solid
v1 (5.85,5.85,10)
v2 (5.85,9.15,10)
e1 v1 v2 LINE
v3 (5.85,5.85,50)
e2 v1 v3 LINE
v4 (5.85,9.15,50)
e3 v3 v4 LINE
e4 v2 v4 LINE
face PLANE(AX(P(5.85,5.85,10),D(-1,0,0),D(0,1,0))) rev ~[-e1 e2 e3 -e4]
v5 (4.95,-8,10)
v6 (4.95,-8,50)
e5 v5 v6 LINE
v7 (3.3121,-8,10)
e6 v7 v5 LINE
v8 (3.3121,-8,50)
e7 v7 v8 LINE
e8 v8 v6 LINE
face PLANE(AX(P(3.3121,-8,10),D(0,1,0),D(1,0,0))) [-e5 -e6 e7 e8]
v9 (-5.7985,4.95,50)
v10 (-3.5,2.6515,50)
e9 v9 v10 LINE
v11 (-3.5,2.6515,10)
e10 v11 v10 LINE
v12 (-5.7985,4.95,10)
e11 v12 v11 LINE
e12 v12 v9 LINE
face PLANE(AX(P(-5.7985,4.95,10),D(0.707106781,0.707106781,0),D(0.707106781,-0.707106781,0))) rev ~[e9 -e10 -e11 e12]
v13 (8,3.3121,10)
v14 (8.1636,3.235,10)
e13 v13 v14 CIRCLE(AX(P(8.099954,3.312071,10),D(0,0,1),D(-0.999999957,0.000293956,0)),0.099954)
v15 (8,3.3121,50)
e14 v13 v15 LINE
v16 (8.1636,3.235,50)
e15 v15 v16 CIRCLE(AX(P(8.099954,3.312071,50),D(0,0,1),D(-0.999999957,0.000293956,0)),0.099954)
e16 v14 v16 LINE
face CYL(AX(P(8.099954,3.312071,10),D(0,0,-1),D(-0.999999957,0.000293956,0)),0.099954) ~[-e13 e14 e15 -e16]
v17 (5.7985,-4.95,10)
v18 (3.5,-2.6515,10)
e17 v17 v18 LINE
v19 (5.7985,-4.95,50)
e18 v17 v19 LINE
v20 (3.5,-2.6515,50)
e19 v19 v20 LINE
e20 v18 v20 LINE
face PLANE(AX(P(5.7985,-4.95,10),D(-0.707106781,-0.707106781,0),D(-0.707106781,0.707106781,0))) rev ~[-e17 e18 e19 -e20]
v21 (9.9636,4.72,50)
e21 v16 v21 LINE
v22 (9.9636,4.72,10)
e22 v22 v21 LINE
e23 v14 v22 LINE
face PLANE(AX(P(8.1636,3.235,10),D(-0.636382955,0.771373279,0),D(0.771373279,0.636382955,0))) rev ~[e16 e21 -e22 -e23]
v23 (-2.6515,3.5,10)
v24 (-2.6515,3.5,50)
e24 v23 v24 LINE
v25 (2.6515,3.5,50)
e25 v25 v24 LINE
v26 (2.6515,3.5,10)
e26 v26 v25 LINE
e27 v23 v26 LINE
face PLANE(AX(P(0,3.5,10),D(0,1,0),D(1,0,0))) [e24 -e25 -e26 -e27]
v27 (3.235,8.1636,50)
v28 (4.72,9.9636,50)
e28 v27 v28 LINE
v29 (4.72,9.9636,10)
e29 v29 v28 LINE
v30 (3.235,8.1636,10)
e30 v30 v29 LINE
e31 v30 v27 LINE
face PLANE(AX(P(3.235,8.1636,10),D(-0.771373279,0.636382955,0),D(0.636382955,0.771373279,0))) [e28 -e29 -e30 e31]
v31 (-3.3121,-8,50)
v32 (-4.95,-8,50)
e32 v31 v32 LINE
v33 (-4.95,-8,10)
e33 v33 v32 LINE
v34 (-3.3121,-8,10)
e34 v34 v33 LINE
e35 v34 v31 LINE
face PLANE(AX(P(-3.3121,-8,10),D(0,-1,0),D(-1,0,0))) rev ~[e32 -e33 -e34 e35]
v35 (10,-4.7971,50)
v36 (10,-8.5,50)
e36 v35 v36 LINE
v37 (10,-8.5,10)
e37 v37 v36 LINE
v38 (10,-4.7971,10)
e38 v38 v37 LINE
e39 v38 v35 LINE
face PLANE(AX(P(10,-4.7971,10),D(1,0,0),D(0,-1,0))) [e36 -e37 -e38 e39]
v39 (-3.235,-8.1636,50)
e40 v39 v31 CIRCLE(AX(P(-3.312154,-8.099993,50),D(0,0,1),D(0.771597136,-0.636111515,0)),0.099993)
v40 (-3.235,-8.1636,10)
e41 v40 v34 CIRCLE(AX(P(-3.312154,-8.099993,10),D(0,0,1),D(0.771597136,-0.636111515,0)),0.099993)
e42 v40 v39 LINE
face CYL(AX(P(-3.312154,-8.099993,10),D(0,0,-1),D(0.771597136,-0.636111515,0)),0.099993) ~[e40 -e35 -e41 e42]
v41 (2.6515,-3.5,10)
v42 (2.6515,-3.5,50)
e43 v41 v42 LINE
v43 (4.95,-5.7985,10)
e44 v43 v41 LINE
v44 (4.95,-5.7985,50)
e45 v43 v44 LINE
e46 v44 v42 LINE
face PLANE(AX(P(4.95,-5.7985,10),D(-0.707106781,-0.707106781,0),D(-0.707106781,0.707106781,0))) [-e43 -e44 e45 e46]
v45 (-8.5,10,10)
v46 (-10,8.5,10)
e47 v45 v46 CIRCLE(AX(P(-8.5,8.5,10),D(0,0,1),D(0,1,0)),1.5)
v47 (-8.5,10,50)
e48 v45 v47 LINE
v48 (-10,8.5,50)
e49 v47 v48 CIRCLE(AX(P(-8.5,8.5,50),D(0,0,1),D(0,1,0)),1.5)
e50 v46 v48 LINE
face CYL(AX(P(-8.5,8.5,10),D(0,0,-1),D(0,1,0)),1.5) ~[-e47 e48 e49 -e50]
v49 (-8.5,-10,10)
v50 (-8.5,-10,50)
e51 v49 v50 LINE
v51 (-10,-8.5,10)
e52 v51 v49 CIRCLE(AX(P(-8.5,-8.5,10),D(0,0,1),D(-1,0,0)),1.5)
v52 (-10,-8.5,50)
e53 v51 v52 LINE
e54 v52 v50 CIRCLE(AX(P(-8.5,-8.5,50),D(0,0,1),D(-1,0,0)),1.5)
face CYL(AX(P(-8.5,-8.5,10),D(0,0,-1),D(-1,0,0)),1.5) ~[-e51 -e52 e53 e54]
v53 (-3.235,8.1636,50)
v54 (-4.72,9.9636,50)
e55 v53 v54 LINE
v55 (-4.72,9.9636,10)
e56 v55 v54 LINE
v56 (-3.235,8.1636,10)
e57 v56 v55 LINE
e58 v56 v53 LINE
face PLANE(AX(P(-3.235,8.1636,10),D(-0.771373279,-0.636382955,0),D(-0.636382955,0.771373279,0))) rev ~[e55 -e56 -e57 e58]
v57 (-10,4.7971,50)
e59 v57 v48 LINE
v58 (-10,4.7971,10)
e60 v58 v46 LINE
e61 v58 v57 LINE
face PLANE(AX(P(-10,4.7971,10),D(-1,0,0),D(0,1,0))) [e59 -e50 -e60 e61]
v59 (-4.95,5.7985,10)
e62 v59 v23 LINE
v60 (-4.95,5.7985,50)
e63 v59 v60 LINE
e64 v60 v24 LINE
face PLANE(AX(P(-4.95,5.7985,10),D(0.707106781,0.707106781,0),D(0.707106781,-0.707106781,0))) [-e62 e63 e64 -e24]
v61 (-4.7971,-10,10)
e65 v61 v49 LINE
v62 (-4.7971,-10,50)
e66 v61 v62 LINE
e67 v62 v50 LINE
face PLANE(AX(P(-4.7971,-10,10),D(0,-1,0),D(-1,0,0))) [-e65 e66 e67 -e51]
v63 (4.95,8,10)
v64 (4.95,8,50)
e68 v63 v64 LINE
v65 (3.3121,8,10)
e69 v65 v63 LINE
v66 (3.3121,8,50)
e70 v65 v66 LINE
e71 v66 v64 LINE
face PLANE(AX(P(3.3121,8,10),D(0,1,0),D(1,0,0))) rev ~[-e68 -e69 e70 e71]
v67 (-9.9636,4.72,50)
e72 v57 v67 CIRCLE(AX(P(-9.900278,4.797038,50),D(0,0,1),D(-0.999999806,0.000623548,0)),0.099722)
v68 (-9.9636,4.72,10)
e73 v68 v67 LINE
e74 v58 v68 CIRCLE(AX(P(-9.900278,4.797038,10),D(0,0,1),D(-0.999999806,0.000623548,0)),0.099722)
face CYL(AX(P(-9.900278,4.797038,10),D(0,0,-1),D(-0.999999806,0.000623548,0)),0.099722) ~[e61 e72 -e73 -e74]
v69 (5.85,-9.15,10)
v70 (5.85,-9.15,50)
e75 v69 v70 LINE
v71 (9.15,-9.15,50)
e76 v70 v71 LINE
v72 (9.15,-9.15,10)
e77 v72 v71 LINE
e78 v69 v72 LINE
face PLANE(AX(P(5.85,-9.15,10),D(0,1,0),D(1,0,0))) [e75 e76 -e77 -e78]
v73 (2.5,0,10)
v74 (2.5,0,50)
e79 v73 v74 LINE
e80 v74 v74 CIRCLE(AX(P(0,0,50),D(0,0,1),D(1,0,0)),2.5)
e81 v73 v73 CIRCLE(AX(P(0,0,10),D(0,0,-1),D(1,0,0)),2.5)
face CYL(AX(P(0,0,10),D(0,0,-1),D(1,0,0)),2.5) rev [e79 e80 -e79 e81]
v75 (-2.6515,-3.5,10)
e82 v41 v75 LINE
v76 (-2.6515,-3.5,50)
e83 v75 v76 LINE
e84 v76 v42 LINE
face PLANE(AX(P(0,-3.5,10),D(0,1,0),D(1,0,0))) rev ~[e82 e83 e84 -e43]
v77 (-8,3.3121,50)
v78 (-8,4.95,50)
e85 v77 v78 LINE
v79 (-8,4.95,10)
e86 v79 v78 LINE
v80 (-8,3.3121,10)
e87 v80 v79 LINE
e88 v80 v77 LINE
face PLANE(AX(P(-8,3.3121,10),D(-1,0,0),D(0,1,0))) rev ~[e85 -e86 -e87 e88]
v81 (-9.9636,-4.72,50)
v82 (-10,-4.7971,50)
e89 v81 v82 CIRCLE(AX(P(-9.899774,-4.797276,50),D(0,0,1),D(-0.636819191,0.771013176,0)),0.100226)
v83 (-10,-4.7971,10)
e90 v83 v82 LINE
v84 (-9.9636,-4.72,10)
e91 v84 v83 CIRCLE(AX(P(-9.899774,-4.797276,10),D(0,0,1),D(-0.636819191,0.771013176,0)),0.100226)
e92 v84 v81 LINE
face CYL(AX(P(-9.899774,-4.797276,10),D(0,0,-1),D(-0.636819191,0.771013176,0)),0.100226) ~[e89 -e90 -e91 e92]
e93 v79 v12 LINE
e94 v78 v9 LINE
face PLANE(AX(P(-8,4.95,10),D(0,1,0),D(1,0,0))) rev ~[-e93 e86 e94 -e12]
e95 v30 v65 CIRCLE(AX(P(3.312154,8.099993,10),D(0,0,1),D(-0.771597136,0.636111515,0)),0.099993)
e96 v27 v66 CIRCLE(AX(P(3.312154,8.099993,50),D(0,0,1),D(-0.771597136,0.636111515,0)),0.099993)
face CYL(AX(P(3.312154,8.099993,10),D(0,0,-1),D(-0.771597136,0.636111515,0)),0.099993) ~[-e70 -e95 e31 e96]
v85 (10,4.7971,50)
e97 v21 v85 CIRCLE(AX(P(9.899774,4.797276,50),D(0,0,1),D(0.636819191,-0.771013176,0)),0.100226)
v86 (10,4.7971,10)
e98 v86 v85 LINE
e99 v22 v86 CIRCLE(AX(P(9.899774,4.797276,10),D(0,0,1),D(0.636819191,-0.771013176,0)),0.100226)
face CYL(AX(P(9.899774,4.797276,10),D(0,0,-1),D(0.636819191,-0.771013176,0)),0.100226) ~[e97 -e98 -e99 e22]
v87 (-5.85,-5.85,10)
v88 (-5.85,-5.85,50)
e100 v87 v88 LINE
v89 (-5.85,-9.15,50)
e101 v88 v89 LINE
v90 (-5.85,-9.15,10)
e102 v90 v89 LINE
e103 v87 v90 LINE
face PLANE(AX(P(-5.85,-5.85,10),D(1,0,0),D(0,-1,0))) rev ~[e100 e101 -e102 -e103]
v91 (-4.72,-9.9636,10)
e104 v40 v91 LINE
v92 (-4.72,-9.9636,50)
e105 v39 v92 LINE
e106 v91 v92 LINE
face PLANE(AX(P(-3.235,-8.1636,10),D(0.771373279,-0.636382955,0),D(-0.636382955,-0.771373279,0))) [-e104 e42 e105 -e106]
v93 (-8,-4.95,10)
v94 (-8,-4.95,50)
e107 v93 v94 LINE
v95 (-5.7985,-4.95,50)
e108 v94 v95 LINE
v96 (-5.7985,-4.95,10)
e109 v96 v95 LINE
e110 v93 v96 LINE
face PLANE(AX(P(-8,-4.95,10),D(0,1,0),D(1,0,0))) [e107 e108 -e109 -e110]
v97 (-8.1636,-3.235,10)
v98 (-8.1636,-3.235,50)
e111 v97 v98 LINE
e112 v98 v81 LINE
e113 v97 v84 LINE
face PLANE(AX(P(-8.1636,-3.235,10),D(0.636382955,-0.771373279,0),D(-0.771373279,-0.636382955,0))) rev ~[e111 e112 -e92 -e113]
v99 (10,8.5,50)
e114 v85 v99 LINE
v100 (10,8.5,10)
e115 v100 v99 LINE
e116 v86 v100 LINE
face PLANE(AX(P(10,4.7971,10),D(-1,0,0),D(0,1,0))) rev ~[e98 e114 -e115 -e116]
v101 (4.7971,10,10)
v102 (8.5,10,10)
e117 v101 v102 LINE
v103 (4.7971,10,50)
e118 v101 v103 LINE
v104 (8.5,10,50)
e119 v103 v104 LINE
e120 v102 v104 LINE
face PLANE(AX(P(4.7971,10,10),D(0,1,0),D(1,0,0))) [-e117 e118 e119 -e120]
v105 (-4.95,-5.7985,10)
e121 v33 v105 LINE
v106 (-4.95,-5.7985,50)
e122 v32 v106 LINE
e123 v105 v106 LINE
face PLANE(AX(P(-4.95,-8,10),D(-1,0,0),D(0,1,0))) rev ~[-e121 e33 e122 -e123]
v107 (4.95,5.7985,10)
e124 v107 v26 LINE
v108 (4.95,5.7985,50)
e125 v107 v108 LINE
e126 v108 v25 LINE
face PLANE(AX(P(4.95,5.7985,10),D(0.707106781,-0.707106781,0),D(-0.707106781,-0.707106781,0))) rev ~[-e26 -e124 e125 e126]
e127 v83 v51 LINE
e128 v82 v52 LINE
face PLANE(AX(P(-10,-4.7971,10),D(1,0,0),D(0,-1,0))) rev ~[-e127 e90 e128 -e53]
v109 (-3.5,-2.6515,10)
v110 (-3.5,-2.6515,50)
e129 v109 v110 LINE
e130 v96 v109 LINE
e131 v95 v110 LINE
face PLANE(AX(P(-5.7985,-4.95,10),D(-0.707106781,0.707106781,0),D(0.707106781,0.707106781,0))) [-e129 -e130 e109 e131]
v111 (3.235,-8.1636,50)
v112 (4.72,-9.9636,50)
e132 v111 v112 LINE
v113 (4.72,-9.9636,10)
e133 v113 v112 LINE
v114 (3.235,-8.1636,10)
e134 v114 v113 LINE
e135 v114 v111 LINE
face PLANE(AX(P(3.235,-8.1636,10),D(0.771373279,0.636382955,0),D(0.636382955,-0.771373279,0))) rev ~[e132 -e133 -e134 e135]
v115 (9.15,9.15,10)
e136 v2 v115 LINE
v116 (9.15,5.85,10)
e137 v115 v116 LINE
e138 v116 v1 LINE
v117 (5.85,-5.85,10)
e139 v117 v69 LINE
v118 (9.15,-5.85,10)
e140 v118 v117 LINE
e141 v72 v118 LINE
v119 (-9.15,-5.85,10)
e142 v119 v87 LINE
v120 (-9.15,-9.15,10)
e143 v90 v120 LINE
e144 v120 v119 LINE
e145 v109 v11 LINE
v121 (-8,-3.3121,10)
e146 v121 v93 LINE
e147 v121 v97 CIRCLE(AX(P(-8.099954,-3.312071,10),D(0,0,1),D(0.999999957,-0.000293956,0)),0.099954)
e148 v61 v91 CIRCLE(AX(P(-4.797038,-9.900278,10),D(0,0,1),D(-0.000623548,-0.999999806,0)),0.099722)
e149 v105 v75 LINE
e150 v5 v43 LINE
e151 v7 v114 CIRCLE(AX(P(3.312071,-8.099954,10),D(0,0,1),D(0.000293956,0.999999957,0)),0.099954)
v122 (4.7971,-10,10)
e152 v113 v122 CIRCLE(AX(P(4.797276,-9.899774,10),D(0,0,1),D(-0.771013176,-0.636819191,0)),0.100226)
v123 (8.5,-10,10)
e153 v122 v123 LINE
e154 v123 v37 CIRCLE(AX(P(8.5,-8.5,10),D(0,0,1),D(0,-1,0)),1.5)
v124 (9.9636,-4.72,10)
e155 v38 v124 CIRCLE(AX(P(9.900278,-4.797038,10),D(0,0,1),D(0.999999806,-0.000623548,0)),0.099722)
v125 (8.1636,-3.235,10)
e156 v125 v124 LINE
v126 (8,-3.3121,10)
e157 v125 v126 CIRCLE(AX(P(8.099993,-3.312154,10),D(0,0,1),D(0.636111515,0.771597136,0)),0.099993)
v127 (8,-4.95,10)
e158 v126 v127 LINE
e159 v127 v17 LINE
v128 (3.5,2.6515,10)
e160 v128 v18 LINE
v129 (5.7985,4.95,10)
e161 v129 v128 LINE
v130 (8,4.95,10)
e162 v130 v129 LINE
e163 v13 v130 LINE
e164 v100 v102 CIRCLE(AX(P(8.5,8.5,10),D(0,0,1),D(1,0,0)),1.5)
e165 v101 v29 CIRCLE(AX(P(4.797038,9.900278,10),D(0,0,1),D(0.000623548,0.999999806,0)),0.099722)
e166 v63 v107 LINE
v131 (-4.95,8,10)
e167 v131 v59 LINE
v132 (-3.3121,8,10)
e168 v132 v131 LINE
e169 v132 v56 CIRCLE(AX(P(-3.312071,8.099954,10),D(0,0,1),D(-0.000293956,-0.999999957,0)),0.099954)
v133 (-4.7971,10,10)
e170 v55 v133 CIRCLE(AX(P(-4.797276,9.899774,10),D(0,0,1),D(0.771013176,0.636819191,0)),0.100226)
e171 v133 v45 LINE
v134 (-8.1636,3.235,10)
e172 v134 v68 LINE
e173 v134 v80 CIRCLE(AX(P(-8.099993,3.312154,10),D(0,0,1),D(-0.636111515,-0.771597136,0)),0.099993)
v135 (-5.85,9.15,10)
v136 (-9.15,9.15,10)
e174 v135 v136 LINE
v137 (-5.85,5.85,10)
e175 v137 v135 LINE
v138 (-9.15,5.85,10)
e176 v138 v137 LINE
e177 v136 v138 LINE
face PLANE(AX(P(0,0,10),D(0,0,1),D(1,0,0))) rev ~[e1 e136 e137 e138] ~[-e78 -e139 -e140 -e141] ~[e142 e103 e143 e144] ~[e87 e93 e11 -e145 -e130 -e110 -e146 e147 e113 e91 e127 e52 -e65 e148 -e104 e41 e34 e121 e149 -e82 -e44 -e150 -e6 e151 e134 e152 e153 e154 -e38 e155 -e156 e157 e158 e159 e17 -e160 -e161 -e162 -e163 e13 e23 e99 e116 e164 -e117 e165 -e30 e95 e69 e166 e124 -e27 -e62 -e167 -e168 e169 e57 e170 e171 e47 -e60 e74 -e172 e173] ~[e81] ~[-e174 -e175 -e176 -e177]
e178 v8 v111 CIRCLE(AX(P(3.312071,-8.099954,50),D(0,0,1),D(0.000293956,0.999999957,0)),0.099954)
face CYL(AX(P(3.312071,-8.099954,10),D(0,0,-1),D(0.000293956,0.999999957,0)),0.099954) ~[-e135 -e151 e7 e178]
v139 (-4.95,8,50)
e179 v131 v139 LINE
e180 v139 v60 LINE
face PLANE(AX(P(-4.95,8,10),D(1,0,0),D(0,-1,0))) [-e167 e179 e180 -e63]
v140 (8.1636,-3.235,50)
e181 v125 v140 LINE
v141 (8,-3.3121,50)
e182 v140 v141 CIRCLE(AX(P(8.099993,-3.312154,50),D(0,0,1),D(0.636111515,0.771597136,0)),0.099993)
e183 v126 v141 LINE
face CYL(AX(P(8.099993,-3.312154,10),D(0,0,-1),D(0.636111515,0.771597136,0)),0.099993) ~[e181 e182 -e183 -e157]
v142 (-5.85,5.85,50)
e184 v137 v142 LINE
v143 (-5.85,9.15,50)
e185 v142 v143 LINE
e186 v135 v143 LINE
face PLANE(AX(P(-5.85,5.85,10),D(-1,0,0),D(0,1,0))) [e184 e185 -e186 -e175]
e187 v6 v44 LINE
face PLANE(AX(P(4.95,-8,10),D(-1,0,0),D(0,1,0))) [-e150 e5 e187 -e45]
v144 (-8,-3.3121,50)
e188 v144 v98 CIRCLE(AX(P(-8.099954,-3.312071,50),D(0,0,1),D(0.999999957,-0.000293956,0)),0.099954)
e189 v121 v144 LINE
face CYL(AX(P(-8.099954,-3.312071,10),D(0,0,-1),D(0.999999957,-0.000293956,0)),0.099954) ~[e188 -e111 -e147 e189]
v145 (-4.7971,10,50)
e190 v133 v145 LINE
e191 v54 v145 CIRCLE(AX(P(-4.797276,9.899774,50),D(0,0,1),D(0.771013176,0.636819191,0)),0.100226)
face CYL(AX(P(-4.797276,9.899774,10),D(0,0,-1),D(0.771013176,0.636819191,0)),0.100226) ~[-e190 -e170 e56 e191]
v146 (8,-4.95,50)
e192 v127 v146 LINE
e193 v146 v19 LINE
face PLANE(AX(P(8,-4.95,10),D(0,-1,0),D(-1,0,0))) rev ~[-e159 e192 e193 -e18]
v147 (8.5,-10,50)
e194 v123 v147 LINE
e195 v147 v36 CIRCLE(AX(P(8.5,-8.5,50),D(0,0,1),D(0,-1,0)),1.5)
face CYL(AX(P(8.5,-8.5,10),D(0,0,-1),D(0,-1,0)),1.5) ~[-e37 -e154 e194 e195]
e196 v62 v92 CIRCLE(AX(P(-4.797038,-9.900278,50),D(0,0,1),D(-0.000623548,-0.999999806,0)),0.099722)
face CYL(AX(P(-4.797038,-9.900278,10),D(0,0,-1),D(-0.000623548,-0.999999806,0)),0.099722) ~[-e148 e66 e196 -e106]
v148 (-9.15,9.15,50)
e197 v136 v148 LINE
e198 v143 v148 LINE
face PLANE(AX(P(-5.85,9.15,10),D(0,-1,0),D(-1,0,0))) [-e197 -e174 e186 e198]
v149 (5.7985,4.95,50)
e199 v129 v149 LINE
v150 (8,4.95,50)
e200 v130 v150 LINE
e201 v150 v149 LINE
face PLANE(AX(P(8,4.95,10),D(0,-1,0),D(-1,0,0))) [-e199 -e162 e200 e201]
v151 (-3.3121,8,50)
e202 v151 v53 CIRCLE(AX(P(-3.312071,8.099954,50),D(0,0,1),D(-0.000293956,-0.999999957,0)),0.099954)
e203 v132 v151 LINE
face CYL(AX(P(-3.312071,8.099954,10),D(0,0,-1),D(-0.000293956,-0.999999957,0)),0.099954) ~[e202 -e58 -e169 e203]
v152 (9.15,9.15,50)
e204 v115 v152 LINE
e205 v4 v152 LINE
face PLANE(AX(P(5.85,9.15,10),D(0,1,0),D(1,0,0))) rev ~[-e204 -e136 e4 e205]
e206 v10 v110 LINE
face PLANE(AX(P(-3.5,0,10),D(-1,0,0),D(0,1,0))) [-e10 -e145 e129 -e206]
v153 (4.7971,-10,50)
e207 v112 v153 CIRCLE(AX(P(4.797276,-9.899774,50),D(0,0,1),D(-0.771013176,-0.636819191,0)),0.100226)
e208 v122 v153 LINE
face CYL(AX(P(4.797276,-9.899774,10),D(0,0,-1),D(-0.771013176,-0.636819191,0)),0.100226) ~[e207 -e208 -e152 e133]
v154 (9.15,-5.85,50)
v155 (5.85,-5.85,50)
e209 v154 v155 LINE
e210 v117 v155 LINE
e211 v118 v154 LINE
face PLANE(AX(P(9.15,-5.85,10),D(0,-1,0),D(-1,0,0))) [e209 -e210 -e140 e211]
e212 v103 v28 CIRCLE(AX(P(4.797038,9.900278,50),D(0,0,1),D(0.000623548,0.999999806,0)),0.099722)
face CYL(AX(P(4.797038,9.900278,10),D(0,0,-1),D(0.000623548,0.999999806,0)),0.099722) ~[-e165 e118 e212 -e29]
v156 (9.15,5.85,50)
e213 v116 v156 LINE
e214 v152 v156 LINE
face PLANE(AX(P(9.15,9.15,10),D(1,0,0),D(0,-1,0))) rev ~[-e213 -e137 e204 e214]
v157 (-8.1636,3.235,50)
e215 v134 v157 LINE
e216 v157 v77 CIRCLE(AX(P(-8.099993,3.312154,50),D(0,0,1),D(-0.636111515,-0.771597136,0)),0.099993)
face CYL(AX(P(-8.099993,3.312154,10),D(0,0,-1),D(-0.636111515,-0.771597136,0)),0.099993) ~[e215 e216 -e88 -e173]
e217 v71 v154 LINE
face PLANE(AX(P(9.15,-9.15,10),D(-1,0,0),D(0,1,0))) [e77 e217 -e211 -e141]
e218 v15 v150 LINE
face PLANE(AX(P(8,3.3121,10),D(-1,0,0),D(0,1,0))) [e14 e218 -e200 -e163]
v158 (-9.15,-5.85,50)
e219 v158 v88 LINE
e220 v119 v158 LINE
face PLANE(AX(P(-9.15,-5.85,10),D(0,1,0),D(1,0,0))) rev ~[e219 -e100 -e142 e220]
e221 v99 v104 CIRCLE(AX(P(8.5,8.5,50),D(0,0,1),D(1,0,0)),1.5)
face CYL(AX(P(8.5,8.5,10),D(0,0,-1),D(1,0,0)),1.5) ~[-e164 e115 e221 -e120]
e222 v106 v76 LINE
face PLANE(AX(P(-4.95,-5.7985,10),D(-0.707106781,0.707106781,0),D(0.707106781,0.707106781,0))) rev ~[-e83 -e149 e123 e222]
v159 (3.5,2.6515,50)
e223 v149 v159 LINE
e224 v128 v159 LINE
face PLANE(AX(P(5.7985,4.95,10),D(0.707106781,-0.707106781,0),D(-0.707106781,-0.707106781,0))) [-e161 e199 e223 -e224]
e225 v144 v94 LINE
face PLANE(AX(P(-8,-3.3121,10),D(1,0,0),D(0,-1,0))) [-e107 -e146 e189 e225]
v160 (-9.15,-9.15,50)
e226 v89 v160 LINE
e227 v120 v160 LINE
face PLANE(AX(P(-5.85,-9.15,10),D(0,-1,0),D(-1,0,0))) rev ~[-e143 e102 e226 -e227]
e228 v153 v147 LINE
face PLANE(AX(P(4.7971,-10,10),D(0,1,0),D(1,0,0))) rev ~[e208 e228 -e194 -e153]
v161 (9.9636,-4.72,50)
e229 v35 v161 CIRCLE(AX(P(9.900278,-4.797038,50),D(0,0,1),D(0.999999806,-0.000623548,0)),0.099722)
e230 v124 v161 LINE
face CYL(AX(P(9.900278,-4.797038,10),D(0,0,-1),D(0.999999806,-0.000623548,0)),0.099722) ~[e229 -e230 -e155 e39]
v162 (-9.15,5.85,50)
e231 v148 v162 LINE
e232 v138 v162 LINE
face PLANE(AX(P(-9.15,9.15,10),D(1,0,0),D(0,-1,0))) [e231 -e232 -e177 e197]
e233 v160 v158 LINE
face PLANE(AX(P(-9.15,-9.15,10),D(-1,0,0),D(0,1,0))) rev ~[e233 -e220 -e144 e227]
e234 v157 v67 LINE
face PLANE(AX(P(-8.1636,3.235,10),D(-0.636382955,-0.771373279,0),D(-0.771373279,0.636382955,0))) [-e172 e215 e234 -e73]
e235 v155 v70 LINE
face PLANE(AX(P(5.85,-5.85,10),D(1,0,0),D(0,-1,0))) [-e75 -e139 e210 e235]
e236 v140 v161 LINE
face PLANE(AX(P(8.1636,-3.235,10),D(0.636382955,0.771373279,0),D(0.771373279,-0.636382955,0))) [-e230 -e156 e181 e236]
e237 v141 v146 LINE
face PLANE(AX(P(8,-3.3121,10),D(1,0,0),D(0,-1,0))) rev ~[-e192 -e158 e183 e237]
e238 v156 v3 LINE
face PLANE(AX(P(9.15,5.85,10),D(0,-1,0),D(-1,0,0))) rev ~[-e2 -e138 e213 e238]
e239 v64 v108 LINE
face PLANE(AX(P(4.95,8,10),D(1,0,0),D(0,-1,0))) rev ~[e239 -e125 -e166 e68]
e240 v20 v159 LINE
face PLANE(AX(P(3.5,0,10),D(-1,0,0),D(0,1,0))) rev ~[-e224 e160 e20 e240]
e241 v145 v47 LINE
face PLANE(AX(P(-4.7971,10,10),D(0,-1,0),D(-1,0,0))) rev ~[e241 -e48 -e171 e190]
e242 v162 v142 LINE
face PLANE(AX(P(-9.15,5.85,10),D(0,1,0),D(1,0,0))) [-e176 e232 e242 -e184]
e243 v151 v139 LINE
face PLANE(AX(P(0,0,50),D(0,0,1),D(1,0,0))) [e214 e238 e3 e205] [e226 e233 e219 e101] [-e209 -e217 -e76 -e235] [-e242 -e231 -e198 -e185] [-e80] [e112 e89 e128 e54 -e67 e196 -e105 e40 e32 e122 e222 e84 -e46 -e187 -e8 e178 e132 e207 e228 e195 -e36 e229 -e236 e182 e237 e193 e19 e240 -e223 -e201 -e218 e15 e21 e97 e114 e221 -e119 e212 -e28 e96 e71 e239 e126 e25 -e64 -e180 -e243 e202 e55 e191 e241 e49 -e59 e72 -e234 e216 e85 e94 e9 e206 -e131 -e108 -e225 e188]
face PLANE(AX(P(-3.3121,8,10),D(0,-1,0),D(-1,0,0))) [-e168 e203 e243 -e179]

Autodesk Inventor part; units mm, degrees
ref_plane "Начальная плоскость" through (0, 0, 10) normal (0, 0, 1) x (1, 0, 0)
ref_plane "Конечная плоскость" through (0, 0, 50) normal (0, 0, 1) x (1, 0, 0)
sketch "Эскиз" plane through (0, 0, 0) normal (0, 0, 1) x (1, 0, 0)
  line L0 (-14.4349, 0) -> (14.4349, 0) projected
  line L1 (0, -14) -> (0, 14) projected
  line L2 (0, 0) -> (7.5, 7.5) construction
  circle A0 centre (7.5, 7.5) radius 1.65 construction
  line L3 (5.85, 9.15) -> (9.15, 9.15)
  line L4 (9.15, 9.15) -> (9.15, 5.85)
  line L5 (9.15, 5.85) -> (5.85, 5.85)
  line L6 (5.85, 5.85) -> (5.85, 9.15)
  line L7 (3.235, 8.1636) -> (4.72, 9.9636)
  line L8 (4.7971, 10) -> (8.5, 10)
  line L9 (3.3121, 8) -> (4.95, 8)
  line L10 (4.95, 8) -> (4.95, 5.7985)
  line L11 (4.95, 5.7985) -> (2.6515, 3.5)
  line L12 (0, 3.5) -> (2.6515, 3.5)
  circle A1 centre (0, 0) radius 2.5
  line L13 (8.1636, 3.235) -> (9.9636, 4.72)
  line L14 (10, 4.7971) -> (10, 8.5)
  line L15 (8, 3.3121) -> (8, 4.95)
  line L16 (8, 4.95) -> (5.7985, 4.95)
  line L17 (5.7985, 4.95) -> (3.5, 2.6515)
  line L18 (3.5, 0) -> (3.5, 2.6515)
  arc A2 (10, 8.5) -> (8.5, 10) centre (8.5, 8.5) ccw
  line L19 (0, 0) -> (-7.5, 7.5) construction
  circle A3 centre (-7.5, 7.5) radius 1.65 construction
  line L20 (-5.85, 9.15) -> (-9.15, 9.15)
  line L21 (-9.15, 9.15) -> (-9.15, 5.85)
  line L22 (-9.15, 5.85) -> (-5.85, 5.85)
  line L23 (-5.85, 5.85) -> (-5.85, 9.15)
  line L24 (-3.235, 8.1636) -> (-4.72, 9.9636)
  line L25 (-4.7971, 10) -> (-8.5, 10)
  line L26 (-3.3121, 8) -> (-4.95, 8)
  line L27 (-4.95, 8) -> (-4.95, 5.7985)
  line L28 (-4.95, 5.7985) -> (-2.6515, 3.5)
  line L29 (0, 3.5) -> (-2.6515, 3.5)
  line L30 (-3.5, 0) -> (-3.5, 2.6515)
  line L31 (-5.7985, 4.95) -> (-3.5, 2.6515)
  line L32 (-8, 4.95) -> (-5.7985, 4.95)
  line L33 (-8, 3.3121) -> (-8, 4.95)
  line L34 (-8.1636, 3.235) -> (-9.9636, 4.72)
  line L35 (-10, 4.7971) -> (-10, 8.5)
  arc A4 (-8.5, 10) -> (-10, 8.5) centre (-8.5, 8.5) ccw
  line L36 (0, 14) -> (0, -14)
  line L37 (0, 0) -> (7.5, -7.5) construction
  circle A5 centre (7.5, -7.5) radius 1.65 construction
  line L38 (5.85, -9.15) -> (9.15, -9.15)
  line L39 (9.15, -9.15) -> (9.15, -5.85)
  line L40 (9.15, -5.85) -> (5.85, -5.85)
  line L41 (5.85, -5.85) -> (5.85, -9.15)
  line L42 (3.235, -8.1636) -> (4.72, -9.9636)
  line L43 (4.7971, -10) -> (8.5, -10)
  line L44 (3.3121, -8) -> (4.95, -8)
  line L45 (4.95, -8) -> (4.95, -5.7985)
  line L46 (4.95, -5.7985) -> (2.6515, -3.5)
  line L47 (0, -3.5) -> (2.6515, -3.5)
  line L48 (3.5, 0) -> (3.5, -2.6515)
  line L49 (5.7985, -4.95) -> (3.5, -2.6515)
  line L50 (8, -4.95) -> (5.7985, -4.95)
  line L51 (8, -3.3121) -> (8, -4.95)
  line L52 (8.1636, -3.235) -> (9.9636, -4.72)
  line L53 (10, -4.7971) -> (10, -8.5)
  arc A6 (8.5, -10) -> (10, -8.5) centre (8.5, -8.5) ccw
  line L54 (0, 0) -> (-7.5, -7.5) construction
  line L55 (-4.95, -8) -> (-4.95, -5.7985)
  line L56 (-3.3121, -8) -> (-4.95, -8)
  line L57 (-5.7985, -4.95) -> (-3.5, -2.6515)
  line L58 (-4.95, -5.7985) -> (-2.6515, -3.5)
  line L59 (-3.5, 0) -> (-3.5, -2.6515)
  line L60 (0, -3.5) -> (-2.6515, -3.5)
  circle A7 centre (-7.5, -7.5) radius 1.65 construction
  line L61 (-5.85, -5.85) -> (-5.85, -9.15)
  line L62 (-5.85, -9.15) -> (-9.15, -9.15)
  line L63 (-9.15, -9.15) -> (-9.15, -5.85)
  line L64 (-9.15, -5.85) -> (-5.85, -5.85)
  line L65 (-3.235, -8.1636) -> (-4.72, -9.9636)
  line L66 (-8, -4.95) -> (-5.7985, -4.95)
  line L67 (-8, -3.3121) -> (-8, -4.95)
  line L68 (-8.1636, -3.235) -> (-9.9636, -4.72)
  line L69 (-4.7971, -10) -> (-8.5, -10)
  line L70 (-10, -4.7971) -> (-10, -8.5)
  arc A8 (-10, -8.5) -> (-8.5, -10) centre (-8.5, -8.5) ccw
  arc A9 (3.235, 8.1636) -> (3.3121, 8) centre (3.3121, 8.1) ccw
  arc A10 (4.7971, 10) -> (4.72, 9.9636) centre (4.7971, 9.9) ccw
  arc A11 (8, 3.3121) -> (8.1636, 3.235) centre (8.1, 3.3121) ccw
  arc A12 (9.9636, 4.72) -> (10, 4.7971) centre (9.9, 4.7971) ccw
  arc A13 (-3.3121, 8) -> (-3.235, 8.1636) centre (-3.3121, 8.1) ccw
  arc A14 (-4.72, 9.9636) -> (-4.7971, 10) centre (-4.7971, 9.9) ccw
  arc A15 (-8.1636, 3.235) -> (-8, 3.3121) centre (-8.1, 3.3121) ccw
  arc A16 (-10, 4.7971) -> (-9.9636, 4.72) centre (-9.9, 4.7971) ccw
  arc A17 (-8, -3.3121) -> (-8.1636, -3.235) centre (-8.1, -3.3121) ccw
  arc A18 (-9.9636, -4.72) -> (-10, -4.7971) centre (-9.9, -4.7971) ccw
  arc A19 (-3.235, -8.1636) -> (-3.3121, -8) centre (-3.3121, -8.1) ccw
  arc A20 (-4.7971, -10) -> (-4.72, -9.9636) centre (-4.7971, -9.9) ccw
  arc A21 (4.72, -9.9636) -> (4.7971, -10) centre (4.7971, -9.9) ccw
  arc A22 (3.3121, -8) -> (3.235, -8.1636) centre (3.3121, -8.1) ccw
  arc A23 (8.1636, -3.235) -> (8, -3.3121) centre (8.1, -3.3121) ccw
  arc A24 (10, -4.7971) -> (9.9636, -4.72) centre (9.9, -4.7971) ccw
  point P0 (3.1, 8)
  point P1 (4.75, 10)
  point P2 (7.5, 9.15)
  point P3 (8, 3.1)
  point P4 (10, 4.75)
  point P5 (7.5, 5.85)
  point P6 (9.15, 7.5)
  point P7 (-3.1, 8)
  point P8 (-4.75, 10)
  point P9 (-7.5, 9.15)
  point P10 (-8, 3.1)
  point P11 (-10, 4.75)
  point P12 (-7.5, 5.85)
  point P13 (-9.15, 7.5)
  point P14 (3.1, -8)
  point P15 (4.75, -10)
  point P16 (7.5, -9.15)
  point P17 (8, -3.1)
  point P18 (10, -4.75)
  point P19 (7.5, -5.85)
  point P20 (9.15, -7.5)
  point P21 (-3.1, -8)
  point P22 (-7.5, -5.85)
  point P23 (-7.5, -9.15)
  point P24 (-9.15, -7.5)
  point P25 (-4.75, -10)
  point P26 (-8, -3.1)
  point P27 (-10, -4.75)
  dimension "d0" = 45
  dimension "d1" = 3.3
  dimension "d2" = 1.5
  dimension "d3" = 1.2
  dimension "d4" = 5
  dimension "d5" = 6.5
  dimension "d6" = 15
  dimension "d7" = 20
  dimension "d8" = 9.9
  dimension "d9" = 9.5
  dimension "d10" = 6.2
  dimension "d11" = 2
  dimension "d18" = 0.1
  dimension "d19" = 0.1
extrude "Тело" add sketch "Эскиз" along normal up to surface (40 mm away) from surface at 10 contours A1 L1 L12 L11 L10 L9 A9 L7 A10 L8 A2 L14 A12 L13 A11 L15 L16 L17 L18 L0 | L0 L48 L49 L50 L51 A23 L52 A24 L53 A6 L43 A21 L42 A22 L44 L45 L46 L47 L1 A1 | A1 L0 L30 L31 L32 L33 A15 L34 A16 L35 A4 L25 A14 L24 A13 L26 L27 L28 L29 L1 | L1 L60 L58 L55 L56 A19 L65 A20 L69 A8 L70 A18 L68 A17 L67 L66 L57 L59 L0 A1
sketch "Эскиз2" plane through (0, 0, 0) normal (0, 0, 1) x (1, 0, 0)
  line L0 (0, 0) -> (10, 0)
ref_plane "РабПлоскость3" through (0, 0, 0) normal (0, -1, 0) x (1, 0, 0)
sketch "Эскиз3" plane through (0, 0, 0) normal (0, -1, 0) x (1, 0, 0)
  line L0 (-2, 10) -> (12, 10)
  line L1 (-2, 50) -> (12, 50)
  dimension "d25" = 40
ref_plane "РабПлоскость4" through (-390, -4.7971, 10) normal (0, 0, -1) x (-1, 0, 0)
split "Разделение1" plane through (-390, -4.7971, 10) removes the side toward (0, 0, -1)
ref_plane "РабПлоскость5" through (120, 8.5, 50) normal (0, 0, 1) x (1, 0, 0)
split "Разделение2" plane through (120, 8.5, 50) removes the side toward (0, 0, 1)
properties part number "короткая палка"
